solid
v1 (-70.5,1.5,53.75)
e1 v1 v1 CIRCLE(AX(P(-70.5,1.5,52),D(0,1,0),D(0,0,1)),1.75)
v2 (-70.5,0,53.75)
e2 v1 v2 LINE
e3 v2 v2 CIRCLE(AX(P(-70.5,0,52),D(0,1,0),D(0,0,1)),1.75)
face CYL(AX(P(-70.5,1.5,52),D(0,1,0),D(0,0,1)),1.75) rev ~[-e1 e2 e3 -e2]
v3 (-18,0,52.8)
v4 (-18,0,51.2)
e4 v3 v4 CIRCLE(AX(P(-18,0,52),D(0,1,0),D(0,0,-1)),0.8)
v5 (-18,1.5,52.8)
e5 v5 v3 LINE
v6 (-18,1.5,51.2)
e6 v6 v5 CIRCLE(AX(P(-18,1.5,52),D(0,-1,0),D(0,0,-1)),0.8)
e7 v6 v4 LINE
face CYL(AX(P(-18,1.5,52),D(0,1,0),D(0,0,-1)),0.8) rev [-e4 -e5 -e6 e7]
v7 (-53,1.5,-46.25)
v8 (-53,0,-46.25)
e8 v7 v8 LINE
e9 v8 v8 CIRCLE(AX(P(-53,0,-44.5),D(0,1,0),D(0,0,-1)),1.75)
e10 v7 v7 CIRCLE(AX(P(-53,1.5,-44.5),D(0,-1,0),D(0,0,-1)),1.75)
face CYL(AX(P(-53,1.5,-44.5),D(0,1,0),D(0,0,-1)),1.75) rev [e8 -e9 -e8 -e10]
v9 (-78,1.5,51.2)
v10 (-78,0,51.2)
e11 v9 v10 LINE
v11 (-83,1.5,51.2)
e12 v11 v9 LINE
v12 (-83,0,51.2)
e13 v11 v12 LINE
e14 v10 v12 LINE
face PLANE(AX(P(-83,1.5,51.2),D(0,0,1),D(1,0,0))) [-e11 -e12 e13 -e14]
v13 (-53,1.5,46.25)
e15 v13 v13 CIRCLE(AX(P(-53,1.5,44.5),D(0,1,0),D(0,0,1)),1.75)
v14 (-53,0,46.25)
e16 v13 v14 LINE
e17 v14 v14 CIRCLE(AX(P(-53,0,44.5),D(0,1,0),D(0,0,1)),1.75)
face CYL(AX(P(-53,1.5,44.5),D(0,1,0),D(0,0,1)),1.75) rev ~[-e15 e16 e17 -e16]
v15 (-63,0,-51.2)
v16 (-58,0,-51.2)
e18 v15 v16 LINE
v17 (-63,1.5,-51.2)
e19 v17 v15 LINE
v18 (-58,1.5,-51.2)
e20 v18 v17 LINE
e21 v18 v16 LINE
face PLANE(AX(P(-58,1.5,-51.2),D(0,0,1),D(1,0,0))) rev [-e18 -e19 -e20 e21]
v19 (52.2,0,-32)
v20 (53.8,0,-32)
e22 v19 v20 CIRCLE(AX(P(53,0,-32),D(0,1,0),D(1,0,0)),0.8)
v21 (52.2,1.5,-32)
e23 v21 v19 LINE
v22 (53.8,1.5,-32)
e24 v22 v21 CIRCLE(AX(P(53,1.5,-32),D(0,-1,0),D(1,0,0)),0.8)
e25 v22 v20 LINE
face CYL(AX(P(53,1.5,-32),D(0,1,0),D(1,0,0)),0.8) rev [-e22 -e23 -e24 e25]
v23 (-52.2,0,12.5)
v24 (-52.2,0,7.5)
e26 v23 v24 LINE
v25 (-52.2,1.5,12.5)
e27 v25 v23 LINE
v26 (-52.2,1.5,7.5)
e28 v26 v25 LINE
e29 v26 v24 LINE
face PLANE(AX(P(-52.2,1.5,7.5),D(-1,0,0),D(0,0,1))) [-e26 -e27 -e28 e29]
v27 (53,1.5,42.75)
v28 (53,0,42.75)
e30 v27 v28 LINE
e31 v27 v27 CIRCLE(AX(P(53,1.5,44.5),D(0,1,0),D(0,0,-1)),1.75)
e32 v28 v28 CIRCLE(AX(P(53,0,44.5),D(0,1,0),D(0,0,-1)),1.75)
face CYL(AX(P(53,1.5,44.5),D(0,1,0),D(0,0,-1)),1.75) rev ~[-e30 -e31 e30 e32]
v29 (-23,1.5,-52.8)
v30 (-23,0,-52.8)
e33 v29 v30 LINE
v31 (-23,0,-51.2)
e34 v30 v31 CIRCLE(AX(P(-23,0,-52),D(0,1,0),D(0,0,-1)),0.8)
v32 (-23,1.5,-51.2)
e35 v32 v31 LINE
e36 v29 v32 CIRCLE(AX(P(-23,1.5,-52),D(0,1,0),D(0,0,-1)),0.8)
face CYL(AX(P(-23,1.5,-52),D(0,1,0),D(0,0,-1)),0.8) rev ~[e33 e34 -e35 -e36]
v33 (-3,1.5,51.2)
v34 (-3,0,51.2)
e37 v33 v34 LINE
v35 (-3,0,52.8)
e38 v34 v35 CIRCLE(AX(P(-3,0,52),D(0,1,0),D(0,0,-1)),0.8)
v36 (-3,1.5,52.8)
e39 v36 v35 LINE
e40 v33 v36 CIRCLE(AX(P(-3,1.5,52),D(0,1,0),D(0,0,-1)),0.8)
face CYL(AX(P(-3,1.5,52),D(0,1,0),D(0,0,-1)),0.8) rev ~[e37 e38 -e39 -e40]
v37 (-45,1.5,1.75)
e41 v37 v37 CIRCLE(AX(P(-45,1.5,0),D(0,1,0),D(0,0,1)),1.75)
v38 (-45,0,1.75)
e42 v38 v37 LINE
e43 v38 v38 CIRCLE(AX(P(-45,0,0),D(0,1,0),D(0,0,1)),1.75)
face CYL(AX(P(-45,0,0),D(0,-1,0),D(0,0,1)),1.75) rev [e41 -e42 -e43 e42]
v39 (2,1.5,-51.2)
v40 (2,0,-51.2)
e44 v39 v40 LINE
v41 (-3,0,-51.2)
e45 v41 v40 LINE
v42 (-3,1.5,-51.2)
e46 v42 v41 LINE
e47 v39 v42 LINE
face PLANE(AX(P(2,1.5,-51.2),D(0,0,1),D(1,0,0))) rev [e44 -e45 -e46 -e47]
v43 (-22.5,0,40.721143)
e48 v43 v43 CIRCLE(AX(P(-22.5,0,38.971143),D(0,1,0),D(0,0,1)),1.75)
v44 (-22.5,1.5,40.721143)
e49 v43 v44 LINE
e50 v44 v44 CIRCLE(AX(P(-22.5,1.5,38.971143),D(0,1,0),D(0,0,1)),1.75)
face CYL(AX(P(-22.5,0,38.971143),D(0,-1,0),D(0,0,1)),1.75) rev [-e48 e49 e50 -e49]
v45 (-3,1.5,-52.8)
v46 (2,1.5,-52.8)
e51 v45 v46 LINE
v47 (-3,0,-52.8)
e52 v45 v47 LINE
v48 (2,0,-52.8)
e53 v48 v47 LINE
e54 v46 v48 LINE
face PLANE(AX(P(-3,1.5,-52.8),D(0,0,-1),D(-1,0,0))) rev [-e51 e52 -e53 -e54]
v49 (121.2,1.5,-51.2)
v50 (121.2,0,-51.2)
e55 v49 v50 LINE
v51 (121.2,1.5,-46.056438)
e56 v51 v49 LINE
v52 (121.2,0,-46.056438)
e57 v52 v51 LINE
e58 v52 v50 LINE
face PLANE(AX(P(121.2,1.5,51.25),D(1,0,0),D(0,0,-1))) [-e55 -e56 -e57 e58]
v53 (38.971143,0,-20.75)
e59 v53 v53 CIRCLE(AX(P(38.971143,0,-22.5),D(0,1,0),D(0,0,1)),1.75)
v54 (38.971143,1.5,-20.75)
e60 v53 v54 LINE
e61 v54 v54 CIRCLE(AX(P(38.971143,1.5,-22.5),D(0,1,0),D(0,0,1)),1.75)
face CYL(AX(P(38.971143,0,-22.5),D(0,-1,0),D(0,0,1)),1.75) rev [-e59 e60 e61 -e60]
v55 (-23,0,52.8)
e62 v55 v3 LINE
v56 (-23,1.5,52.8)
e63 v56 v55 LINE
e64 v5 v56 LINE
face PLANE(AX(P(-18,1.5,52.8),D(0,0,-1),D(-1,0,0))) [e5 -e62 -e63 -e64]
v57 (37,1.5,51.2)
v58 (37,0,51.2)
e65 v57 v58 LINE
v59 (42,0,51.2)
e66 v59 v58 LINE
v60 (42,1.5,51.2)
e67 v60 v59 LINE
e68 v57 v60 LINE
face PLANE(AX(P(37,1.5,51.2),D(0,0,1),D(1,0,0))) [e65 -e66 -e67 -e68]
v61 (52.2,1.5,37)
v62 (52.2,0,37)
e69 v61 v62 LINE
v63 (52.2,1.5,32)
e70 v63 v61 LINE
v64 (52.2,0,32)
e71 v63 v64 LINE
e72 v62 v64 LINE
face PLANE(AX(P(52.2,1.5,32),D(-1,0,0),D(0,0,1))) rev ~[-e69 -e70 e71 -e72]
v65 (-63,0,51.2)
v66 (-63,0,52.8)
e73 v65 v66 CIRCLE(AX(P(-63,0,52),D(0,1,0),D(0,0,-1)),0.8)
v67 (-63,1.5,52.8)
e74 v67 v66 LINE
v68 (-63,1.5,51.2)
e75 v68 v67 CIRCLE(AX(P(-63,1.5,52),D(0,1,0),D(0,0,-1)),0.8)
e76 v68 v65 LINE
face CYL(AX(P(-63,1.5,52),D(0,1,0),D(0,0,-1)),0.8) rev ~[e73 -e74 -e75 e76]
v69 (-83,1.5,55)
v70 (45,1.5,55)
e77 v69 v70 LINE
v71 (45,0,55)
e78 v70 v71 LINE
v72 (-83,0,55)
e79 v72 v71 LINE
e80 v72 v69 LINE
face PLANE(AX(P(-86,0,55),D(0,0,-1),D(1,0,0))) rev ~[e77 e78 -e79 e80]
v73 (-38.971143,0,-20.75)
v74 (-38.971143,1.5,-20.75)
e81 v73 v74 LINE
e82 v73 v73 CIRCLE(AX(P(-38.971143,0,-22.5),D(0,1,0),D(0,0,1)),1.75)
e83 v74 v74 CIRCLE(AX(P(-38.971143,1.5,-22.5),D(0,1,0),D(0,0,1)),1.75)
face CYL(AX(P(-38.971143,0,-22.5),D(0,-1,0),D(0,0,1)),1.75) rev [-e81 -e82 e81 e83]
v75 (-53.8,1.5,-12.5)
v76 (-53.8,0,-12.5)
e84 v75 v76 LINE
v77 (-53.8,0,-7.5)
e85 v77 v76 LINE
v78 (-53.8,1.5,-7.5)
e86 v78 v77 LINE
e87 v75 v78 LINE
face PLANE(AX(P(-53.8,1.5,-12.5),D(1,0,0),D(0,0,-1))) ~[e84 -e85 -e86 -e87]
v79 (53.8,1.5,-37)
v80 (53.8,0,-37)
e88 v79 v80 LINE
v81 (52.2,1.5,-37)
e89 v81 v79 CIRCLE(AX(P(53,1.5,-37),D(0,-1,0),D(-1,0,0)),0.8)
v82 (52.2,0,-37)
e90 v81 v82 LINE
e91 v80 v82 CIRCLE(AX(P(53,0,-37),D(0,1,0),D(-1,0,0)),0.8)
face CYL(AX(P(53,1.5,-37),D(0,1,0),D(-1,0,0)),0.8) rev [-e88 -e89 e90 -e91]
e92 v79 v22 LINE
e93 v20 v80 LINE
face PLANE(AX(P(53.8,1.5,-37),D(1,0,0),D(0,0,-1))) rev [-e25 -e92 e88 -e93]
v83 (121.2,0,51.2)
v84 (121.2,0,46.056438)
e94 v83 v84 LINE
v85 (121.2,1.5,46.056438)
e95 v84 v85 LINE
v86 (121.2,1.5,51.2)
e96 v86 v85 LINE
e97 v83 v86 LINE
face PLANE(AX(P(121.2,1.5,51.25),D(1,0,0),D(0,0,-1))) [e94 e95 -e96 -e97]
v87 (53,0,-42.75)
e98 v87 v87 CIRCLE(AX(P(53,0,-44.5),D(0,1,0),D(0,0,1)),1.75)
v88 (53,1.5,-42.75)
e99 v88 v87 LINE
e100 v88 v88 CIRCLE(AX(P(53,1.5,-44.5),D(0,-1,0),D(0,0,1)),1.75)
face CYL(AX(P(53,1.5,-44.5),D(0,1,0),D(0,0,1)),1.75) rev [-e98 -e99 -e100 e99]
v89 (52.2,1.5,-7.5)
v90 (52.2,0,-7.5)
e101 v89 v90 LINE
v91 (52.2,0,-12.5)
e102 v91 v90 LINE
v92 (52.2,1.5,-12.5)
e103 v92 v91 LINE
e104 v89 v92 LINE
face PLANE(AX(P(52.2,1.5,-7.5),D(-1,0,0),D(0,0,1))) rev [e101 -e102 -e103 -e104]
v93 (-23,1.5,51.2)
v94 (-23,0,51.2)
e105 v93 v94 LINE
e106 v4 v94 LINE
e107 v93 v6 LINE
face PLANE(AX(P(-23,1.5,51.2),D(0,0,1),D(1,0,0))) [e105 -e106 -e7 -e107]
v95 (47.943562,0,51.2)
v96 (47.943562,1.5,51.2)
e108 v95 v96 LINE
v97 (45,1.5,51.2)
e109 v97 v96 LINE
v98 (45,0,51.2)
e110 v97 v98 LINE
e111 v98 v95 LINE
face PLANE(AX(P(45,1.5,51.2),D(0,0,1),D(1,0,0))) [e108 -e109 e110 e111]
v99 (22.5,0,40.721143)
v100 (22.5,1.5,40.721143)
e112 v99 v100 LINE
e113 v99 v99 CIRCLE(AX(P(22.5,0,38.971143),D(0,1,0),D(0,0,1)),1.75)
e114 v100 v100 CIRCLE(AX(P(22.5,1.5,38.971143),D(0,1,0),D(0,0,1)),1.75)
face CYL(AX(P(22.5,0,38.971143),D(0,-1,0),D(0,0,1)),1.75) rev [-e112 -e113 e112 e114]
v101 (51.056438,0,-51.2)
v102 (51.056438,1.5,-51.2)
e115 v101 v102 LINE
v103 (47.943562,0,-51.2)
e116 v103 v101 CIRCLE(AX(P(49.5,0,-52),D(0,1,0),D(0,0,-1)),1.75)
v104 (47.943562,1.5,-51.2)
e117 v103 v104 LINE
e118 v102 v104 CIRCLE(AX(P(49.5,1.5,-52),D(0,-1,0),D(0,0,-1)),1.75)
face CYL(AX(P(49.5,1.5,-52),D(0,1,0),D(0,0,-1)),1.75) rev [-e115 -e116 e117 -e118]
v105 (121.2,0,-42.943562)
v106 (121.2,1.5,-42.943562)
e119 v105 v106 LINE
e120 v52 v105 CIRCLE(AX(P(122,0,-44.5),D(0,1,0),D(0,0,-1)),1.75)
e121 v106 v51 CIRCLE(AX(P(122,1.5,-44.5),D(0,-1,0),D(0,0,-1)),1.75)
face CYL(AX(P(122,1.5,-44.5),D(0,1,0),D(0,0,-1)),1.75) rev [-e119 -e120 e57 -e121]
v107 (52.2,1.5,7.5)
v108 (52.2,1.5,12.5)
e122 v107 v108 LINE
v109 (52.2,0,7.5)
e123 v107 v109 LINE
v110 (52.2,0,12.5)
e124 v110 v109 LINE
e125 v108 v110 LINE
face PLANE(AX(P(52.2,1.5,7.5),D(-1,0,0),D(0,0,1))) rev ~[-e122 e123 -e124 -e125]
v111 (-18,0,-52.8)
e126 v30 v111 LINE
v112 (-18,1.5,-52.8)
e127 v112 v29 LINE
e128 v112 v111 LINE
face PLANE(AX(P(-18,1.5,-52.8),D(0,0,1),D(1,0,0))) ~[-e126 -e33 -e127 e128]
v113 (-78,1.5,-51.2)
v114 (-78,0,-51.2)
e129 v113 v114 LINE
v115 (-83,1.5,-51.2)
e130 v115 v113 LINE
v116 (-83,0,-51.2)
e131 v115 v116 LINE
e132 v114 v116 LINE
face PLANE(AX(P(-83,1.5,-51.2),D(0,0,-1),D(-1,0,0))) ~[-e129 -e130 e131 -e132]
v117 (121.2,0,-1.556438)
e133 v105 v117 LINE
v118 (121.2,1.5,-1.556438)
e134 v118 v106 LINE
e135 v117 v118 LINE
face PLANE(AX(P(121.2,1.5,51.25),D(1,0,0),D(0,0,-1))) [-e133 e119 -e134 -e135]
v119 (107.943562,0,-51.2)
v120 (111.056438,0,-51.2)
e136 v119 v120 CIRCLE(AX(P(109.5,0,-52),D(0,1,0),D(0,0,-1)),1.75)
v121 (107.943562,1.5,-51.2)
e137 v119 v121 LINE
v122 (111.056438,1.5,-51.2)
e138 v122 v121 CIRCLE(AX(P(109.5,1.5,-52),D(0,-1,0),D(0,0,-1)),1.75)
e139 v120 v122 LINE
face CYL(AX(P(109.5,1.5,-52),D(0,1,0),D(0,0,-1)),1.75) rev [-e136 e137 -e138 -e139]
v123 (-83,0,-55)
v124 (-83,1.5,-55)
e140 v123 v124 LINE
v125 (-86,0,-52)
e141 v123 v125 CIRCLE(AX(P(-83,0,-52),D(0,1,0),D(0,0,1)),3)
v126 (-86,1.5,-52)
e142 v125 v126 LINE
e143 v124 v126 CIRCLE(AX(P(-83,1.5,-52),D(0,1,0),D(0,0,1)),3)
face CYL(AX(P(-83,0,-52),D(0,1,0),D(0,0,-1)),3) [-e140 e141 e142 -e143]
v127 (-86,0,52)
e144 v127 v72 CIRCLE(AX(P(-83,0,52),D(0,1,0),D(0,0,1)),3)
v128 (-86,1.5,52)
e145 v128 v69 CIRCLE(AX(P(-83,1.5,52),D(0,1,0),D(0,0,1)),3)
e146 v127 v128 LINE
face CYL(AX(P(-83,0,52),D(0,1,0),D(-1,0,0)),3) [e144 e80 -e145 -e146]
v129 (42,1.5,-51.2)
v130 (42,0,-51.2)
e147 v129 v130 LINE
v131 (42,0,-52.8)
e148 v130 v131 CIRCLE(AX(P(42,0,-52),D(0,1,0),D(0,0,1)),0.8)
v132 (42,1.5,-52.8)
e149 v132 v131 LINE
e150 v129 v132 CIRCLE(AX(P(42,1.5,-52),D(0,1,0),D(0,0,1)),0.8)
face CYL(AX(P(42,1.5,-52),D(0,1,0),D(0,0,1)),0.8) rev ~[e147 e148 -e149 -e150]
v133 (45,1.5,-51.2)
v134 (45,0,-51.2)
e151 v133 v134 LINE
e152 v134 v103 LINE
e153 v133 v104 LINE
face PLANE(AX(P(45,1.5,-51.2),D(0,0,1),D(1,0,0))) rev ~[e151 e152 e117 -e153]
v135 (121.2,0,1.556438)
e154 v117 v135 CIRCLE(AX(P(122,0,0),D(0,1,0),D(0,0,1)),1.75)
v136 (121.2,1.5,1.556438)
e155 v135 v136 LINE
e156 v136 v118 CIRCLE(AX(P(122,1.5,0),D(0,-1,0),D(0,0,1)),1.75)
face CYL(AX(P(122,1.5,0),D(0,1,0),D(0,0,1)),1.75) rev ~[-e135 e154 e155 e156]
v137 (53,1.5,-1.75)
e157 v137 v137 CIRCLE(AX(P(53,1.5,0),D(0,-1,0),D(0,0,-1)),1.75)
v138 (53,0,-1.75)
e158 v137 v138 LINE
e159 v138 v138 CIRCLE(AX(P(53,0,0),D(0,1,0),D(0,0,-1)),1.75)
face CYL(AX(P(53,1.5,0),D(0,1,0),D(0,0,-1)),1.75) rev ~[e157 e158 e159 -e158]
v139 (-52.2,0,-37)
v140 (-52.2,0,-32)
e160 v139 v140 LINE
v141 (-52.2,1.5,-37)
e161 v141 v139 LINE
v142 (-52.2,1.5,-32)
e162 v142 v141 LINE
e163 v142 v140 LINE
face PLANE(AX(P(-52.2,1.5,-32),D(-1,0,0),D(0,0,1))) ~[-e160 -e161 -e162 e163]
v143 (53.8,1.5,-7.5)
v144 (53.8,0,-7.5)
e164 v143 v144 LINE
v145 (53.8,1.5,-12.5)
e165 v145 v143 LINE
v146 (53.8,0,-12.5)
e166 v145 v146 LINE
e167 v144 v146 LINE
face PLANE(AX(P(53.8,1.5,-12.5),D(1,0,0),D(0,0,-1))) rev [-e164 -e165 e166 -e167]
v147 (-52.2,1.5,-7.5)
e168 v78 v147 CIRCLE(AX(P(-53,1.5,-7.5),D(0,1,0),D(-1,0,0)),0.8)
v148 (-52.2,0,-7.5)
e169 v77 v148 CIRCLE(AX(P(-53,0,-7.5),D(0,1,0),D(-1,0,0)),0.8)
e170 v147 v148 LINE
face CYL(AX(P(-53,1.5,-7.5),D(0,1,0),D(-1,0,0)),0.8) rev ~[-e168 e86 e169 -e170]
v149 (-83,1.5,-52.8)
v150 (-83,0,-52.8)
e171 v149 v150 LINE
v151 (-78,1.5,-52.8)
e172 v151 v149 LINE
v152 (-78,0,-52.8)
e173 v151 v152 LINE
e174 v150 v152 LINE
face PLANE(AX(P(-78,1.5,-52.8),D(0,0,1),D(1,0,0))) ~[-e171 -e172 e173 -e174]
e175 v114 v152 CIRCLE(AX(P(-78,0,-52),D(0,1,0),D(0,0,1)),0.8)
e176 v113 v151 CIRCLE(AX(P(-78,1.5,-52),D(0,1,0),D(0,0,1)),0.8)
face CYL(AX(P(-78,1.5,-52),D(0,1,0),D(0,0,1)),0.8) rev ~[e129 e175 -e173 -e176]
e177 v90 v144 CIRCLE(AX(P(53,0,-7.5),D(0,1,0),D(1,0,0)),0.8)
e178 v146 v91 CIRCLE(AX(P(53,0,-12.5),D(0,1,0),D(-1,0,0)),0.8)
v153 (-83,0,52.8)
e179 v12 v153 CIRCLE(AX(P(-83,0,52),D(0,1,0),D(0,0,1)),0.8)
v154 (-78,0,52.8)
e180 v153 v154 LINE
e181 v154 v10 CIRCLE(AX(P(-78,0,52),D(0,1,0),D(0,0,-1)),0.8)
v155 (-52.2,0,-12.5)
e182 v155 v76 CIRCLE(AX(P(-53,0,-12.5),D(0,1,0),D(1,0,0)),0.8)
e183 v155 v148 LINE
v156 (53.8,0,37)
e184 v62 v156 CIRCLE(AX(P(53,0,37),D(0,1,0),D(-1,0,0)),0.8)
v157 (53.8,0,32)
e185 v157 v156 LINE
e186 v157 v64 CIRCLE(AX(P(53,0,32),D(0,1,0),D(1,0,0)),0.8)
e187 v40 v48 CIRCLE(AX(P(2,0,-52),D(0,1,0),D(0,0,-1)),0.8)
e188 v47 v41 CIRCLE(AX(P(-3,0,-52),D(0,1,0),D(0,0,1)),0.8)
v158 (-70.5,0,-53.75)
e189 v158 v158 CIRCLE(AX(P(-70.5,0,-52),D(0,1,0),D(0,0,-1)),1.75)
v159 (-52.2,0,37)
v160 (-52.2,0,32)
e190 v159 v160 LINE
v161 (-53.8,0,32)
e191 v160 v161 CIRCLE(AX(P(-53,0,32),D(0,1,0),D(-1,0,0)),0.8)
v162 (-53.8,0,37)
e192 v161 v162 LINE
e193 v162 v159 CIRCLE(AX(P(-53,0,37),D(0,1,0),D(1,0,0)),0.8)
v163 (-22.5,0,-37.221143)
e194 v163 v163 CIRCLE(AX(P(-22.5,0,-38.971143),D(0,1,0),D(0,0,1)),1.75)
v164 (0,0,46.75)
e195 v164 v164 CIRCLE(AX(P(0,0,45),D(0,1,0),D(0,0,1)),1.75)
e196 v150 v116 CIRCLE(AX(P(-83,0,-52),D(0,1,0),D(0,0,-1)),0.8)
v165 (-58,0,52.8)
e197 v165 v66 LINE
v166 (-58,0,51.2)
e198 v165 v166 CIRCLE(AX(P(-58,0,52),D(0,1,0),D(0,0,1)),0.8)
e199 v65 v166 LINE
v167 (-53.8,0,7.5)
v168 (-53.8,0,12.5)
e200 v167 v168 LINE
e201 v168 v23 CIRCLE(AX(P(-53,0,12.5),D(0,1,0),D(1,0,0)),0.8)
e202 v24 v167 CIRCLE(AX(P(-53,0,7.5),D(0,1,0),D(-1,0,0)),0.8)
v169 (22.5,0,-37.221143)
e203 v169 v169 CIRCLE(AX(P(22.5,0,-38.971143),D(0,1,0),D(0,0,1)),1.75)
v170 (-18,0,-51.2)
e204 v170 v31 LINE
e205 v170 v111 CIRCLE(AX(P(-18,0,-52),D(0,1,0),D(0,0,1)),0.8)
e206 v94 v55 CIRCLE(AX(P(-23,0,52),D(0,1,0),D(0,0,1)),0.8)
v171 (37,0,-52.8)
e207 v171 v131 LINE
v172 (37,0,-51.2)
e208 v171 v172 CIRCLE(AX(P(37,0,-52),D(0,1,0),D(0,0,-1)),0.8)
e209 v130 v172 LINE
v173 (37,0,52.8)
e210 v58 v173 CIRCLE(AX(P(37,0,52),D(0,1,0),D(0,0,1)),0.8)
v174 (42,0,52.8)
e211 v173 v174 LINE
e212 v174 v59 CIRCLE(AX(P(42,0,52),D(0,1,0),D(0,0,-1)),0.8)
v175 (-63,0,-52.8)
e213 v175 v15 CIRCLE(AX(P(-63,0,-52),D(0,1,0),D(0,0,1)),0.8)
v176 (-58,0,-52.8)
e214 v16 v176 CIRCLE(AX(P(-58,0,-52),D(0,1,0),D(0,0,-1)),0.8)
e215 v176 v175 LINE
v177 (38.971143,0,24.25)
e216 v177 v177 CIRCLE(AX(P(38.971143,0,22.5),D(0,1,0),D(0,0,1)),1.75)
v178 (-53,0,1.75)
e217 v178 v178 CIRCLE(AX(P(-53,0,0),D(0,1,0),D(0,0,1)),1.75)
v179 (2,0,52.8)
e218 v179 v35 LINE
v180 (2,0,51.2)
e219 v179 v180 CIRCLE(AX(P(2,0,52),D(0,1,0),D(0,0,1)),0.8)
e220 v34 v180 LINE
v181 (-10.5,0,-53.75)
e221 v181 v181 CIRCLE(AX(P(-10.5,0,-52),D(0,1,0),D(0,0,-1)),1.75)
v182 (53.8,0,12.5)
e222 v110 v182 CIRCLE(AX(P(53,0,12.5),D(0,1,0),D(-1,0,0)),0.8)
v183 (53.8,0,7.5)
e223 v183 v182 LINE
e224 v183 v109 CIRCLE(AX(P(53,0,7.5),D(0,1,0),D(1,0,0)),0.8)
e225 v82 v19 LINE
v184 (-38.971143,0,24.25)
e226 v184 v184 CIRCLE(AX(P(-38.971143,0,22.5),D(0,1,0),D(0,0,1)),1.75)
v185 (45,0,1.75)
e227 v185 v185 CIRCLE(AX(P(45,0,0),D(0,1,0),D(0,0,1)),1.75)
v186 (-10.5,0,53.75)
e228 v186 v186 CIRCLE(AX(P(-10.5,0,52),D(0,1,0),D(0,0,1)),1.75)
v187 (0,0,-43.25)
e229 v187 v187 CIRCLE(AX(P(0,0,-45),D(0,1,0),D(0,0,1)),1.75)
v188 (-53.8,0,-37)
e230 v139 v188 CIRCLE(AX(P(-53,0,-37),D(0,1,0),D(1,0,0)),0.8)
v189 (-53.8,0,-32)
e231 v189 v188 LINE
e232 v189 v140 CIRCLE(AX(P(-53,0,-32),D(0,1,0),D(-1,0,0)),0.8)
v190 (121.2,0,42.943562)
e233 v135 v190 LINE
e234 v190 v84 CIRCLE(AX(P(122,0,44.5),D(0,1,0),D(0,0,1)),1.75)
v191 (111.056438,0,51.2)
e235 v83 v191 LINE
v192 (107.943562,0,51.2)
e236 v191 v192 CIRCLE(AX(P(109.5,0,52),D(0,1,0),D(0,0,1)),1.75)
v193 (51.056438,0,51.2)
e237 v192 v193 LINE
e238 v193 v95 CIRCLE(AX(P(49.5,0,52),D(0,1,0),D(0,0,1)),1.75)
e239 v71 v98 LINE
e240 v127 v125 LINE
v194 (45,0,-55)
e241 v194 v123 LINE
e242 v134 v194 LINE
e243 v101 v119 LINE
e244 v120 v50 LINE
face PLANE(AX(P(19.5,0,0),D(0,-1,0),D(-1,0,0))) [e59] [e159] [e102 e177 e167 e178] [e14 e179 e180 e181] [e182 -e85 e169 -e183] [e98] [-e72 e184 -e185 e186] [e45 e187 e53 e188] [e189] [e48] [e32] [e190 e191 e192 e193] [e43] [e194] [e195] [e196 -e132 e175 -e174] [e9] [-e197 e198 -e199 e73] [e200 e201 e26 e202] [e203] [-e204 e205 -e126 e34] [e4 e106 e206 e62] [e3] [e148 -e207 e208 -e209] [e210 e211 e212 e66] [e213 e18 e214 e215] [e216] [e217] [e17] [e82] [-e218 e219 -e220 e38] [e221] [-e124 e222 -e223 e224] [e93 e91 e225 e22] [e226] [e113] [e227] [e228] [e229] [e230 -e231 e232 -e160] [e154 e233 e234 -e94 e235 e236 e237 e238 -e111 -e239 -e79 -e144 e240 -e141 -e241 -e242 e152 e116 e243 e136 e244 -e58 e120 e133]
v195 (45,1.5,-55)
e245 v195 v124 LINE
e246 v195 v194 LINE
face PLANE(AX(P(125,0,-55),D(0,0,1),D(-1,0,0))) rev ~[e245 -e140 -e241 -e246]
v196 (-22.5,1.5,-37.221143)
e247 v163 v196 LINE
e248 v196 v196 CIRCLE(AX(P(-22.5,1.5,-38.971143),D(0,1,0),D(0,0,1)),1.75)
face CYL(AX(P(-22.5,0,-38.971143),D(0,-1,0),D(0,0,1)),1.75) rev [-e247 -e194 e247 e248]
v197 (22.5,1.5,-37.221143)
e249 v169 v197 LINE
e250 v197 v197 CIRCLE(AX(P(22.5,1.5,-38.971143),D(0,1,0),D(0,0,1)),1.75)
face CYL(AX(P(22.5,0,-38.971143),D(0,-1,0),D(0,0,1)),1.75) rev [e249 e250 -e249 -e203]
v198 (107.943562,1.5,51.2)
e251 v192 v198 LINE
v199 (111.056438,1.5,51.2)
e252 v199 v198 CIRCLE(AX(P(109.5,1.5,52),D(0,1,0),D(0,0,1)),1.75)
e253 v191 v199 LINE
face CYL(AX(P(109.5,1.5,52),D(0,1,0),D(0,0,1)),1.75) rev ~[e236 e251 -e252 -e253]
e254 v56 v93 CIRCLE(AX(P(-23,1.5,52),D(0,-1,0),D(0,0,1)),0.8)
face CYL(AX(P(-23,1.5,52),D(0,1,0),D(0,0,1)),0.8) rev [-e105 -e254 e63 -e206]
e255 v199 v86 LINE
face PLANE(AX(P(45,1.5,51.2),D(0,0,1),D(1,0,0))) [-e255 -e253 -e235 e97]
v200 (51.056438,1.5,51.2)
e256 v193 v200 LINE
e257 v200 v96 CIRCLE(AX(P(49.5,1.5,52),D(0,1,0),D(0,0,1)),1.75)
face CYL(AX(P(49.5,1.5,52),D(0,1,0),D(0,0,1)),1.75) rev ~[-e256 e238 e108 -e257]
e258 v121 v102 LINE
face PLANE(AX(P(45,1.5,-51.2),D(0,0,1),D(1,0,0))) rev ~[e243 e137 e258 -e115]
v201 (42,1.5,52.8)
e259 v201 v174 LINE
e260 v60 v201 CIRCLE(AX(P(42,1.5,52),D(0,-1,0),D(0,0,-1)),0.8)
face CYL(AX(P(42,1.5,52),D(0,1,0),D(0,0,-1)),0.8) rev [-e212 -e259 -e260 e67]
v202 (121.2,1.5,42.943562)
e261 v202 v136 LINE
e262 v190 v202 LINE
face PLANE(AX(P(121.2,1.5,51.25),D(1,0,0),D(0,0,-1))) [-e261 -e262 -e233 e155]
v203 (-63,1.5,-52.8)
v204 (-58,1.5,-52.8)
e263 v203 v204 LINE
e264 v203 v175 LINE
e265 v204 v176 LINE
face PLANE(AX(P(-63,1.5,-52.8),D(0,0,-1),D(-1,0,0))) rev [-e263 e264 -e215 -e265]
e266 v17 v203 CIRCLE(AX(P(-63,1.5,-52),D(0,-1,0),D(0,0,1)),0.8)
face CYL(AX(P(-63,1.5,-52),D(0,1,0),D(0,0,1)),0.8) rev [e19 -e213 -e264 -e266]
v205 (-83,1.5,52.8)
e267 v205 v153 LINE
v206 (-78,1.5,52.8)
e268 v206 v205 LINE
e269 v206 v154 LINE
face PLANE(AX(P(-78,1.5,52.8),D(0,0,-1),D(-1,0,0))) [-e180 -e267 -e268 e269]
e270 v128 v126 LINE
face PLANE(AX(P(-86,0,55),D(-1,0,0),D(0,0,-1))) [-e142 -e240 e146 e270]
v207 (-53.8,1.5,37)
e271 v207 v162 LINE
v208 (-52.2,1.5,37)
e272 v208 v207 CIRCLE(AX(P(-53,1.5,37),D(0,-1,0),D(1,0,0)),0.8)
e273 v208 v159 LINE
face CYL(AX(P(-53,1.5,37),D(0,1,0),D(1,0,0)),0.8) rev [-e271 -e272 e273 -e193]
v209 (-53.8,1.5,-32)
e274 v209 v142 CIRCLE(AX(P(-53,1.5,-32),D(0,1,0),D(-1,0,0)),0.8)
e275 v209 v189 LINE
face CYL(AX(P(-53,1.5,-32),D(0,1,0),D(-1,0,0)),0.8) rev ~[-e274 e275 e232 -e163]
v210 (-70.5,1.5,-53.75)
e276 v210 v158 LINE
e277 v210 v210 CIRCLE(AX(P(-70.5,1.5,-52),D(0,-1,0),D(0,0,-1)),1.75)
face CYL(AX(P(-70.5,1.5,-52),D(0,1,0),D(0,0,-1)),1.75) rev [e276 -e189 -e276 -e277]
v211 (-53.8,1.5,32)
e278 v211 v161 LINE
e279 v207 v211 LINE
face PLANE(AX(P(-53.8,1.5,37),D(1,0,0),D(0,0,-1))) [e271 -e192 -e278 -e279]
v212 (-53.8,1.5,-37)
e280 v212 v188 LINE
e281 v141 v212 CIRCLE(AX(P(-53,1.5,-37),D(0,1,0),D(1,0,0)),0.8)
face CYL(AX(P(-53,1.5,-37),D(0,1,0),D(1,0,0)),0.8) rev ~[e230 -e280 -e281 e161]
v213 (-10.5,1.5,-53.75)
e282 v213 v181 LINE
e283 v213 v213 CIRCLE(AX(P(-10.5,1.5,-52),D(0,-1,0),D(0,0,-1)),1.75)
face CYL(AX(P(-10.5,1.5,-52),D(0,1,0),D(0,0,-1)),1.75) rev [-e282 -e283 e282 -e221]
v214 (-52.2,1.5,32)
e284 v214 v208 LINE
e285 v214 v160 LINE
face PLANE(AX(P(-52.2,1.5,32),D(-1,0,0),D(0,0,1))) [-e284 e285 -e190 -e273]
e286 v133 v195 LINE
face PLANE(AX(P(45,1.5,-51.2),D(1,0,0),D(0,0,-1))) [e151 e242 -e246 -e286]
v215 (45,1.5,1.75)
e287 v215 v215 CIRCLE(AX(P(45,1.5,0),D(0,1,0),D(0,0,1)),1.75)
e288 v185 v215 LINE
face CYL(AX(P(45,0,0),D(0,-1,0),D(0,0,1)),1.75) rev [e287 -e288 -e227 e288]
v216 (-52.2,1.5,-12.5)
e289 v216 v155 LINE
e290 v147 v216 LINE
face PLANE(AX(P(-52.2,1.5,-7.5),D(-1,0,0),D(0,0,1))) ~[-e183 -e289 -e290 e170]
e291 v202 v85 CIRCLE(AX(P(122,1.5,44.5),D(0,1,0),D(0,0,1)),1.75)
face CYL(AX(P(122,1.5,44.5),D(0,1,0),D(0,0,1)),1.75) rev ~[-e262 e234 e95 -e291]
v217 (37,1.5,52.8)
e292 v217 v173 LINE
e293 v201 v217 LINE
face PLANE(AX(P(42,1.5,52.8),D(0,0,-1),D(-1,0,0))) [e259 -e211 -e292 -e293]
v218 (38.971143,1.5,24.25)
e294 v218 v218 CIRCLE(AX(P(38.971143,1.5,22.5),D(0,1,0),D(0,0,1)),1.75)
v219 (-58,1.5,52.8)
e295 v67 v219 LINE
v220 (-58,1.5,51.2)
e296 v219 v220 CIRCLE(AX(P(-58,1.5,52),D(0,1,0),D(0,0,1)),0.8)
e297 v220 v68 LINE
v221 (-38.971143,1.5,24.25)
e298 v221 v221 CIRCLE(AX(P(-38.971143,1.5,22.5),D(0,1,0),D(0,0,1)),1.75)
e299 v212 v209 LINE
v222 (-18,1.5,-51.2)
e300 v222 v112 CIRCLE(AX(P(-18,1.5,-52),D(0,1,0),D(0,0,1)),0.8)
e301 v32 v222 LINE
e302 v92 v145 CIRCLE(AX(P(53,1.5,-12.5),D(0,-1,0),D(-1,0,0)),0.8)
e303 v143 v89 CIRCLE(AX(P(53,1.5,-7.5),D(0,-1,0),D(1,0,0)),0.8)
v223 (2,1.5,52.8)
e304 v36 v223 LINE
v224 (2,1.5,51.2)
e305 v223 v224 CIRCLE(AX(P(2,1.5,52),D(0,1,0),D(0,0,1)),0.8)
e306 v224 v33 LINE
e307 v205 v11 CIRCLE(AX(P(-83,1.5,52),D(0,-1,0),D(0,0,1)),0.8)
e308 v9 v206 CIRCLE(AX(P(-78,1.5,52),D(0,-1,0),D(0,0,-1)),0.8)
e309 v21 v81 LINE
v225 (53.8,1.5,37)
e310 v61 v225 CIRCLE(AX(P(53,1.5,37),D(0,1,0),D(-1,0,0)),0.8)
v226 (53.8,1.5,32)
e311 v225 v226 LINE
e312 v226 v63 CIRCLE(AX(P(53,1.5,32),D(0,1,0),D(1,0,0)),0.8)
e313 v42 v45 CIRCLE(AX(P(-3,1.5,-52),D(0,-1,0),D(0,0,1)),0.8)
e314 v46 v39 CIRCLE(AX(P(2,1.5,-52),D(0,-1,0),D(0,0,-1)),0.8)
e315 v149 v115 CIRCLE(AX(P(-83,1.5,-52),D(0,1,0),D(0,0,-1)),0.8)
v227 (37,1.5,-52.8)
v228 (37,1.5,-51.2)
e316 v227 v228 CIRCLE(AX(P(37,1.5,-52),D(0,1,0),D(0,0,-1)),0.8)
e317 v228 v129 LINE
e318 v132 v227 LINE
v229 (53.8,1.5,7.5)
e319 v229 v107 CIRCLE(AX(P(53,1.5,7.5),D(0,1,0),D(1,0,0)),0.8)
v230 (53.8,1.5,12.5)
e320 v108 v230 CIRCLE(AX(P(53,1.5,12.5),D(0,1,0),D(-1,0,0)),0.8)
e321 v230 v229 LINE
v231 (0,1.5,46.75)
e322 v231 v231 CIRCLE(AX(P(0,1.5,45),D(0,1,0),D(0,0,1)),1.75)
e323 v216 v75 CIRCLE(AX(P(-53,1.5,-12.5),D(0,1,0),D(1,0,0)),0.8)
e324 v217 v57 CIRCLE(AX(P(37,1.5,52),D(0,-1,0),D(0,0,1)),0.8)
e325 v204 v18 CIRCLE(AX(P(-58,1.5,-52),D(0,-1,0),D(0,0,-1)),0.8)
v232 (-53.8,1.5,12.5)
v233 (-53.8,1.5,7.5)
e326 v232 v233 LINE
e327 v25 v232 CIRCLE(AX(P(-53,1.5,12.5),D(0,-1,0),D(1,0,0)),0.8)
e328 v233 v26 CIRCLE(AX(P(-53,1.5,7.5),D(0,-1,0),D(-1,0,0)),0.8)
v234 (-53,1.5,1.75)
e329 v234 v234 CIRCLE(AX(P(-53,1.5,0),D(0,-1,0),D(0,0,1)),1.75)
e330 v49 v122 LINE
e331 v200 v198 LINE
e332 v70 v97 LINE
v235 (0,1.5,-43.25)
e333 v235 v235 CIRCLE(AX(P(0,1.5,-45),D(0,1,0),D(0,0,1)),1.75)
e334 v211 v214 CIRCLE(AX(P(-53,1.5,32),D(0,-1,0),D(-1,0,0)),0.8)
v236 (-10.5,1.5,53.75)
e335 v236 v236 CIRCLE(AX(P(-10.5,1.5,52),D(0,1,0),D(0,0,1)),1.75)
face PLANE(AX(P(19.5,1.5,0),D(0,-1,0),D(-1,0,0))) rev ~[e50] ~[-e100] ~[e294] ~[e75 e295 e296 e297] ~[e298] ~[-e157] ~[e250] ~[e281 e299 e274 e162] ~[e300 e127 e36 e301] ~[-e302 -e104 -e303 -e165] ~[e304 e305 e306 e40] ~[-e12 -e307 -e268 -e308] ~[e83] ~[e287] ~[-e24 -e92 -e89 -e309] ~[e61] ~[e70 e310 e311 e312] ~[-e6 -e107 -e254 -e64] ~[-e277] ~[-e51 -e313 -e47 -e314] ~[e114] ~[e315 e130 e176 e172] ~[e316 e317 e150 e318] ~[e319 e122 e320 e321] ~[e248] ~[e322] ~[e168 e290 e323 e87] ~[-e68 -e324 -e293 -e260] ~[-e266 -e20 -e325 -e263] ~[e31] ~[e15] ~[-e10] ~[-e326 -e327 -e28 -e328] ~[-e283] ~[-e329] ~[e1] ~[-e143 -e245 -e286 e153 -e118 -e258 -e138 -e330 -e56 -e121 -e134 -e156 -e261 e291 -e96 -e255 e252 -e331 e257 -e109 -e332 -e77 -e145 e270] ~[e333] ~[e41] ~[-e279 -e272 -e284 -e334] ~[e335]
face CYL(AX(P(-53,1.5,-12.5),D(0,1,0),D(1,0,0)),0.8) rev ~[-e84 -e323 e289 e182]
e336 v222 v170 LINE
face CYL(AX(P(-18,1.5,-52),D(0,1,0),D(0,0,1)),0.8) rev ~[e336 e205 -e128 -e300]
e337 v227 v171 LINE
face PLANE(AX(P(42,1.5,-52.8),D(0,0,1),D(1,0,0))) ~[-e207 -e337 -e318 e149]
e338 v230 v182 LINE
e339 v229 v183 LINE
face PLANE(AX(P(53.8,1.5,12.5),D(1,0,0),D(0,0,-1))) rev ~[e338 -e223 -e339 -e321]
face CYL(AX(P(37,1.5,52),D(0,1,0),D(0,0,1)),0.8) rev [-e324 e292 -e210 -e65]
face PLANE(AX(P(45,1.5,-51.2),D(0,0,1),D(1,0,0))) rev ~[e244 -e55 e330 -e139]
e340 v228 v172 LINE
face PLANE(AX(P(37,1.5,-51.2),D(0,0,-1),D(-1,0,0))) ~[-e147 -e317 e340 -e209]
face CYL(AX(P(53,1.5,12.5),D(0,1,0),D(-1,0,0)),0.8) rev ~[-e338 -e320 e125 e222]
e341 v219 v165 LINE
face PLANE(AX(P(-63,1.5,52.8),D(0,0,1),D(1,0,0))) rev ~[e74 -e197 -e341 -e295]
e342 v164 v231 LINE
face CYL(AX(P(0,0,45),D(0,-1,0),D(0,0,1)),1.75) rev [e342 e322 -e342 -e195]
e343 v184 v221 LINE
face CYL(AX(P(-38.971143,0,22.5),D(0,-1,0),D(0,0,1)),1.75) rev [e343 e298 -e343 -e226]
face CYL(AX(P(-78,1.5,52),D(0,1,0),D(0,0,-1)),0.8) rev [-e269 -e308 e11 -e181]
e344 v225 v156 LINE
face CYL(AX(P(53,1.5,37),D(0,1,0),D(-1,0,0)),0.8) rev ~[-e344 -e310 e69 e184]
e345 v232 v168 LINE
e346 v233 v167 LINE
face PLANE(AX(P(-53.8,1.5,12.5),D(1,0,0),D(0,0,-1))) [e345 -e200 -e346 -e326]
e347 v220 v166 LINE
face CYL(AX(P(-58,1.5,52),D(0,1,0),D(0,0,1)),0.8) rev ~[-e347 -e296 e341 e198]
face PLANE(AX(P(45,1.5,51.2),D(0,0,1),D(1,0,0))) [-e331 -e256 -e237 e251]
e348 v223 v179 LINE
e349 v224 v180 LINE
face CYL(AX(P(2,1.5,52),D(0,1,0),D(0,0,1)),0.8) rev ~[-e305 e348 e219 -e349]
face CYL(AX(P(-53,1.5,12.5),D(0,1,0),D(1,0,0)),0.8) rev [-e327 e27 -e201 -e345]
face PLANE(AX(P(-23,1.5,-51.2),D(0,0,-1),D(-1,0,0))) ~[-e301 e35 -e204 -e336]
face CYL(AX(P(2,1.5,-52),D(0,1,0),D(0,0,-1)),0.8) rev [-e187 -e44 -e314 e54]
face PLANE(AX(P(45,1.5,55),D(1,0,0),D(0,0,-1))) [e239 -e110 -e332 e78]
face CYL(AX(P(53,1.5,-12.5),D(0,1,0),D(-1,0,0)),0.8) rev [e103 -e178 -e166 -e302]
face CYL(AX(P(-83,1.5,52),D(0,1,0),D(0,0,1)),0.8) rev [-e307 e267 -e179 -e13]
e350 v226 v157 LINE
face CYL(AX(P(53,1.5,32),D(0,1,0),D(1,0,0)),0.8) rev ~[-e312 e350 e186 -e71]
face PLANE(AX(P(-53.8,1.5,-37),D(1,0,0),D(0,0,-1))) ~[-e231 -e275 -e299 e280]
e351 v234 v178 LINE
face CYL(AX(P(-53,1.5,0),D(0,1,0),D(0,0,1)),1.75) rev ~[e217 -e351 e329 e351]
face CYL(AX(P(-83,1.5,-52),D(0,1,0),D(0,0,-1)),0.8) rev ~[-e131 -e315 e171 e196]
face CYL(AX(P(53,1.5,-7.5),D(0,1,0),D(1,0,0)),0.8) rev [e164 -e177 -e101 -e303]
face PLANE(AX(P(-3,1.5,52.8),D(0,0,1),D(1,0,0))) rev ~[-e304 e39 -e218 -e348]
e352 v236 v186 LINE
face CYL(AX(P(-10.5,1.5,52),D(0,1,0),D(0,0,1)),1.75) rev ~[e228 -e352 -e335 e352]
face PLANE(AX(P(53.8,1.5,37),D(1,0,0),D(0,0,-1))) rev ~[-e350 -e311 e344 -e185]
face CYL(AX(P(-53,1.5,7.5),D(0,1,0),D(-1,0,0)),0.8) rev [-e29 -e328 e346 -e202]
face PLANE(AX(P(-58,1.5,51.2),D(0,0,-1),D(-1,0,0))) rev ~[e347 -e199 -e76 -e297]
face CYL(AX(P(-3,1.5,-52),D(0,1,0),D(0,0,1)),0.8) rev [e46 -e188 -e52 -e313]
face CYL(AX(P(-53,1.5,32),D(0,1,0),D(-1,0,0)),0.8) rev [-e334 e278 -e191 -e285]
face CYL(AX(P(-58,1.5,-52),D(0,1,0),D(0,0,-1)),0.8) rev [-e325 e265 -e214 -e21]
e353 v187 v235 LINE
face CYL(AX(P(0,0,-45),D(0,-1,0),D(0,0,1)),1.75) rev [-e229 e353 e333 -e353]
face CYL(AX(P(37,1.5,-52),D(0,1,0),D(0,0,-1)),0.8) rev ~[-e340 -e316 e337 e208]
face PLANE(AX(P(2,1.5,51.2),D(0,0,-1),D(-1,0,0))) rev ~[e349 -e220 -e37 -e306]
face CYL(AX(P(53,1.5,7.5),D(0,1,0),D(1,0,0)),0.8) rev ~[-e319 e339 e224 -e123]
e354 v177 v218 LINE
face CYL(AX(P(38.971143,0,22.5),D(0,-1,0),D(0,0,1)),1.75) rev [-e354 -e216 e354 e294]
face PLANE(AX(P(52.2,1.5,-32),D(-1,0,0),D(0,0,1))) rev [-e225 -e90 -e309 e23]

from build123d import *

# Parameters (mm, degrees)
SKETCH1_R           = 1.75
BOSS_EXTRUDE1_DEPTH = 1.5
SKETCH2_R           = 1.75
CUT_EXTRUDE1_DEPTH  = 3
FILLET1_R           = 3
SKETCH4_W           = 80
SKETCH4_H           = 3.8
CUT_EXTRUDE3_DEPTH  = 1.5
SKETCH5_W           = 3.8
SKETCH5_H           = 102.45
CUT_EXTRUDE4_DEPTH  = 1.5


with BuildPart() as part:
    # Sketch1 → Boss-Extrude1 (new body)
    with BuildSketch(Plane(origin=(0, 0, 0), x_dir=(1, 0, 0), z_dir=(0, 1, 0))):
        Polygon((0, 55), (125, 55), (125, -55), (0, -55), (-86, -55), (-86, 55), align=None)
        with Locations(Location((0, 45, 0), (0, 0, 270))):
            Circle(SKETCH1_R, mode=Mode.SUBTRACT)
        with Locations(Location((22.5, 38.97114317, 0), (0, 0, 270))):
            Circle(SKETCH1_R, mode=Mode.SUBTRACT)
        with Locations(Location((38.97114317, 22.5, 0), (0, 0, 270))):
            Circle(SKETCH1_R, mode=Mode.SUBTRACT)
        with Locations(Location((45, 0, 0), (0, 0, 270))):
            Circle(SKETCH1_R, mode=Mode.SUBTRACT)
        with Locations(Location((38.97114317, -22.5, 0), (0, 0, 270))):
            Circle(SKETCH1_R, mode=Mode.SUBTRACT)
        with Locations(Location((22.5, -38.97114317, 0), (0, 0, 270))):
            Circle(SKETCH1_R, mode=Mode.SUBTRACT)
        with Locations(Location((0, -45, 0), (0, 0, 270))):
            Circle(SKETCH1_R, mode=Mode.SUBTRACT)
        with Locations(Location((-22.5, -38.97114317, 0), (0, 0, 270))):
            Circle(SKETCH1_R, mode=Mode.SUBTRACT)
        with Locations(Location((-38.97114317, -22.5, 0), (0, 0, 270))):
            Circle(SKETCH1_R, mode=Mode.SUBTRACT)
        with Locations(Location((-45, 0, 0), (0, 0, 270))):
            Circle(SKETCH1_R, mode=Mode.SUBTRACT)
        with Locations(Location((-38.97114317, 22.5, 0), (0, 0, 270))):
            Circle(SKETCH1_R, mode=Mode.SUBTRACT)
        with Locations(Location((-22.5, 38.97114317, 0), (0, 0, 270))):
            Circle(SKETCH1_R, mode=Mode.SUBTRACT)
    extrude(amount=BOSS_EXTRUDE1_DEPTH)

    # Sketch2 → Cut-Extrude1 (cut)
    with BuildSketch(Plane(origin=(0, 1.5, 0), x_dir=(1, 0, 0), z_dir=(0, 1, 0))):
        with Locations(Location((-10.5, -52, 0), (0, 0, 270))):
            Circle(SKETCH2_R)
        with Locations(Location((49.5, -52, 0), (0, 0, 270))):
            Circle(SKETCH2_R)
        with Locations(Location((109.5, -52, 0), (0, 0, 270))):
            Circle(SKETCH2_R)
        with Locations(Location((-70.5, -52, 0), (0, 0, 270))):
            Circle(SKETCH2_R)
        with Locations(Location((122, -44.5, 0), (0, 0, 270))):
            Circle(SKETCH2_R)
        with Locations(Location((122, 0, 0), (0, 0, 270))):
            Circle(SKETCH2_R)
        with Locations(Location((53, 0, 0), (0, 0, 90))):
            Circle(SKETCH2_R)
        with Locations(Location((53, -44.5, 0), (0, 0, 90))):
            Circle(SKETCH2_R)
        with Locations(Location((-53, -44.5, 0), (0, 0, 270))):
            Circle(SKETCH2_R)
        with Locations(Location((-53, 0, 0), (0, 0, 270))):
            Circle(SKETCH2_R)
        with BuildLine():
            Line((-83, -51.2), (-78, -51.2))
            ThreePointArc((-78, -51.2), (-77.2, -52), (-78, -52.8))
            Line((-78, -52.8), (-83, -52.8))
            ThreePointArc((-83, -52.8), (-83.8, -52), (-83, -51.2))
        make_face()
        with BuildLine():
            Line((-58, -51.2), (-63, -51.2))
            ThreePointArc((-63, -51.2), (-63.8, -52), (-63, -52.8))
            Line((-63, -52.8), (-58, -52.8))
            ThreePointArc((-58, -52.8), (-57.2, -52), (-58, -51.2))
        make_face()
        with BuildLine():
            Line((-23, -51.2), (-18, -51.2))
            ThreePointArc((-18, -51.2), (-17.2, -52), (-18, -52.8))
            Line((-18, -52.8), (-23, -52.8))
            ThreePointArc((-23, -52.8), (-23.8, -52), (-23, -51.2))
        make_face()
        with BuildLine():
            Line((2, -51.2), (-3, -51.2))
            ThreePointArc((-3, -51.2), (-3.8, -52), (-3, -52.8))
            Line((-3, -52.8), (2, -52.8))
            ThreePointArc((2, -52.8), (2.8, -52), (2, -51.2))
        make_face()
        with BuildLine():
            Line((37, -51.2), (42, -51.2))
            ThreePointArc((42, -51.2), (42.8, -52), (42, -52.8))
            Line((42, -52.8), (37, -52.8))
            ThreePointArc((37, -52.8), (36.2, -52), (37, -51.2))
        make_face()
        with BuildLine():
            Line((62, -51.2), (57, -51.2))
            ThreePointArc((57, -51.2), (56.2, -52), (57, -52.8))
            Line((57, -52.8), (62, -52.8))
            ThreePointArc((62, -52.8), (62.8, -52), (62, -51.2))
        make_face()
        with BuildLine():
            Line((97, -51.2), (102, -51.2))
            ThreePointArc((102, -51.2), (102.8, -52), (102, -52.8))
            Line((102, -52.8), (97, -52.8))
            ThreePointArc((97, -52.8), (96.2, -52), (97, -51.2))
        make_face()
        with BuildLine():
            Line((122, -51.2), (117, -51.2))
            ThreePointArc((117, -51.2), (116.2, -52), (117, -52.8))
            Line((117, -52.8), (122, -52.8))
            ThreePointArc((122, -52.8), (122.8, -52), (122, -51.2))
        make_face()
        with BuildLine():
            Line((122.8, -7.5), (122.8, -12.5))
            ThreePointArc((122.8, -12.5), (122, -13.3), (121.2, -12.5))
            Line((121.2, -12.5), (121.2, -7.5))
            ThreePointArc((121.2, -7.5), (122, -6.7), (122.8, -7.5))
        make_face()
        with BuildLine():
            Line((122.8, -32), (122.8, -37))
            ThreePointArc((122.8, -37), (122, -37.8), (121.2, -37))
            Line((121.2, -37), (121.2, -32))
            ThreePointArc((121.2, -32), (122, -31.2), (122.8, -32))
        make_face()
        with BuildLine():
            Line((52.2, -32), (52.2, -37))
            ThreePointArc((52.2, -37), (53, -37.8), (53.8, -37))
            Line((53.8, -37), (53.8, -32))
            ThreePointArc((53.8, -32), (53, -31.2), (52.2, -32))
        make_face()
        with BuildLine():
            Line((52.2, -7.5), (52.2, -12.5))
            ThreePointArc((52.2, -12.5), (53, -13.3), (53.8, -12.5))
            Line((53.8, -12.5), (53.8, -7.5))
            ThreePointArc((53.8, -7.5), (53, -6.7), (52.2, -7.5))
        make_face()
        with BuildLine():
            Line((-52.2, -7.5), (-52.2, -12.5))
            ThreePointArc((-52.2, -12.5), (-53, -13.3), (-53.8, -12.5))
            Line((-53.8, -12.5), (-53.8, -7.5))
            ThreePointArc((-53.8, -7.5), (-53, -6.7), (-52.2, -7.5))
        make_face()
        with BuildLine():
            Line((-52.2, -32), (-52.2, -37))
            ThreePointArc((-52.2, -37), (-53, -37.8), (-53.8, -37))
            Line((-53.8, -37), (-53.8, -32))
            ThreePointArc((-53.8, -32), (-53, -31.2), (-52.2, -32))
        make_face()
    cut_extrude1 = extrude(amount=-CUT_EXTRUDE1_DEPTH, mode=Mode.SUBTRACT)

    # Fillet1
    fillet1_edges = [part.edges().sort_by_distance(p)[0] for p in [
        (-86, 0.75, 55),
        (-86, 0.75, -55),
        (125, 0.75, -55),
        (125, 0.75, 55),
    ]]
    fillet(fillet1_edges, radius=FILLET1_R)

    # Mirror1: Cut-Extrude1 across plane
    add(cut_extrude1.mirror(Plane.XY), mode=Mode.SUBTRACT)

    # Sketch4 → Cut-Extrude3 (cut)
    with BuildSketch(Plane(origin=(0, 1.5, 0), x_dir=(1, 0, 0), z_dir=(0, 1, 0))):
        with Locations((85, -53.1)):
            Rectangle(SKETCH4_W, SKETCH4_H)
        with Locations((85, 53.1)):
            Rectangle(SKETCH4_W, SKETCH4_H)
    extrude(amount=-CUT_EXTRUDE3_DEPTH, mode=Mode.SUBTRACT)

    # Sketch5 → Cut-Extrude4 (cut)
    with BuildSketch(Plane(origin=(0, 1.5, 0), x_dir=(1, 0, 0), z_dir=(0, 1, 0))):
        with Locations((123.1, -0.025)):
            Rectangle(SKETCH5_W, SKETCH5_H)
    extrude(amount=-CUT_EXTRUDE4_DEPTH, mode=Mode.SUBTRACT)


solid = part.part
